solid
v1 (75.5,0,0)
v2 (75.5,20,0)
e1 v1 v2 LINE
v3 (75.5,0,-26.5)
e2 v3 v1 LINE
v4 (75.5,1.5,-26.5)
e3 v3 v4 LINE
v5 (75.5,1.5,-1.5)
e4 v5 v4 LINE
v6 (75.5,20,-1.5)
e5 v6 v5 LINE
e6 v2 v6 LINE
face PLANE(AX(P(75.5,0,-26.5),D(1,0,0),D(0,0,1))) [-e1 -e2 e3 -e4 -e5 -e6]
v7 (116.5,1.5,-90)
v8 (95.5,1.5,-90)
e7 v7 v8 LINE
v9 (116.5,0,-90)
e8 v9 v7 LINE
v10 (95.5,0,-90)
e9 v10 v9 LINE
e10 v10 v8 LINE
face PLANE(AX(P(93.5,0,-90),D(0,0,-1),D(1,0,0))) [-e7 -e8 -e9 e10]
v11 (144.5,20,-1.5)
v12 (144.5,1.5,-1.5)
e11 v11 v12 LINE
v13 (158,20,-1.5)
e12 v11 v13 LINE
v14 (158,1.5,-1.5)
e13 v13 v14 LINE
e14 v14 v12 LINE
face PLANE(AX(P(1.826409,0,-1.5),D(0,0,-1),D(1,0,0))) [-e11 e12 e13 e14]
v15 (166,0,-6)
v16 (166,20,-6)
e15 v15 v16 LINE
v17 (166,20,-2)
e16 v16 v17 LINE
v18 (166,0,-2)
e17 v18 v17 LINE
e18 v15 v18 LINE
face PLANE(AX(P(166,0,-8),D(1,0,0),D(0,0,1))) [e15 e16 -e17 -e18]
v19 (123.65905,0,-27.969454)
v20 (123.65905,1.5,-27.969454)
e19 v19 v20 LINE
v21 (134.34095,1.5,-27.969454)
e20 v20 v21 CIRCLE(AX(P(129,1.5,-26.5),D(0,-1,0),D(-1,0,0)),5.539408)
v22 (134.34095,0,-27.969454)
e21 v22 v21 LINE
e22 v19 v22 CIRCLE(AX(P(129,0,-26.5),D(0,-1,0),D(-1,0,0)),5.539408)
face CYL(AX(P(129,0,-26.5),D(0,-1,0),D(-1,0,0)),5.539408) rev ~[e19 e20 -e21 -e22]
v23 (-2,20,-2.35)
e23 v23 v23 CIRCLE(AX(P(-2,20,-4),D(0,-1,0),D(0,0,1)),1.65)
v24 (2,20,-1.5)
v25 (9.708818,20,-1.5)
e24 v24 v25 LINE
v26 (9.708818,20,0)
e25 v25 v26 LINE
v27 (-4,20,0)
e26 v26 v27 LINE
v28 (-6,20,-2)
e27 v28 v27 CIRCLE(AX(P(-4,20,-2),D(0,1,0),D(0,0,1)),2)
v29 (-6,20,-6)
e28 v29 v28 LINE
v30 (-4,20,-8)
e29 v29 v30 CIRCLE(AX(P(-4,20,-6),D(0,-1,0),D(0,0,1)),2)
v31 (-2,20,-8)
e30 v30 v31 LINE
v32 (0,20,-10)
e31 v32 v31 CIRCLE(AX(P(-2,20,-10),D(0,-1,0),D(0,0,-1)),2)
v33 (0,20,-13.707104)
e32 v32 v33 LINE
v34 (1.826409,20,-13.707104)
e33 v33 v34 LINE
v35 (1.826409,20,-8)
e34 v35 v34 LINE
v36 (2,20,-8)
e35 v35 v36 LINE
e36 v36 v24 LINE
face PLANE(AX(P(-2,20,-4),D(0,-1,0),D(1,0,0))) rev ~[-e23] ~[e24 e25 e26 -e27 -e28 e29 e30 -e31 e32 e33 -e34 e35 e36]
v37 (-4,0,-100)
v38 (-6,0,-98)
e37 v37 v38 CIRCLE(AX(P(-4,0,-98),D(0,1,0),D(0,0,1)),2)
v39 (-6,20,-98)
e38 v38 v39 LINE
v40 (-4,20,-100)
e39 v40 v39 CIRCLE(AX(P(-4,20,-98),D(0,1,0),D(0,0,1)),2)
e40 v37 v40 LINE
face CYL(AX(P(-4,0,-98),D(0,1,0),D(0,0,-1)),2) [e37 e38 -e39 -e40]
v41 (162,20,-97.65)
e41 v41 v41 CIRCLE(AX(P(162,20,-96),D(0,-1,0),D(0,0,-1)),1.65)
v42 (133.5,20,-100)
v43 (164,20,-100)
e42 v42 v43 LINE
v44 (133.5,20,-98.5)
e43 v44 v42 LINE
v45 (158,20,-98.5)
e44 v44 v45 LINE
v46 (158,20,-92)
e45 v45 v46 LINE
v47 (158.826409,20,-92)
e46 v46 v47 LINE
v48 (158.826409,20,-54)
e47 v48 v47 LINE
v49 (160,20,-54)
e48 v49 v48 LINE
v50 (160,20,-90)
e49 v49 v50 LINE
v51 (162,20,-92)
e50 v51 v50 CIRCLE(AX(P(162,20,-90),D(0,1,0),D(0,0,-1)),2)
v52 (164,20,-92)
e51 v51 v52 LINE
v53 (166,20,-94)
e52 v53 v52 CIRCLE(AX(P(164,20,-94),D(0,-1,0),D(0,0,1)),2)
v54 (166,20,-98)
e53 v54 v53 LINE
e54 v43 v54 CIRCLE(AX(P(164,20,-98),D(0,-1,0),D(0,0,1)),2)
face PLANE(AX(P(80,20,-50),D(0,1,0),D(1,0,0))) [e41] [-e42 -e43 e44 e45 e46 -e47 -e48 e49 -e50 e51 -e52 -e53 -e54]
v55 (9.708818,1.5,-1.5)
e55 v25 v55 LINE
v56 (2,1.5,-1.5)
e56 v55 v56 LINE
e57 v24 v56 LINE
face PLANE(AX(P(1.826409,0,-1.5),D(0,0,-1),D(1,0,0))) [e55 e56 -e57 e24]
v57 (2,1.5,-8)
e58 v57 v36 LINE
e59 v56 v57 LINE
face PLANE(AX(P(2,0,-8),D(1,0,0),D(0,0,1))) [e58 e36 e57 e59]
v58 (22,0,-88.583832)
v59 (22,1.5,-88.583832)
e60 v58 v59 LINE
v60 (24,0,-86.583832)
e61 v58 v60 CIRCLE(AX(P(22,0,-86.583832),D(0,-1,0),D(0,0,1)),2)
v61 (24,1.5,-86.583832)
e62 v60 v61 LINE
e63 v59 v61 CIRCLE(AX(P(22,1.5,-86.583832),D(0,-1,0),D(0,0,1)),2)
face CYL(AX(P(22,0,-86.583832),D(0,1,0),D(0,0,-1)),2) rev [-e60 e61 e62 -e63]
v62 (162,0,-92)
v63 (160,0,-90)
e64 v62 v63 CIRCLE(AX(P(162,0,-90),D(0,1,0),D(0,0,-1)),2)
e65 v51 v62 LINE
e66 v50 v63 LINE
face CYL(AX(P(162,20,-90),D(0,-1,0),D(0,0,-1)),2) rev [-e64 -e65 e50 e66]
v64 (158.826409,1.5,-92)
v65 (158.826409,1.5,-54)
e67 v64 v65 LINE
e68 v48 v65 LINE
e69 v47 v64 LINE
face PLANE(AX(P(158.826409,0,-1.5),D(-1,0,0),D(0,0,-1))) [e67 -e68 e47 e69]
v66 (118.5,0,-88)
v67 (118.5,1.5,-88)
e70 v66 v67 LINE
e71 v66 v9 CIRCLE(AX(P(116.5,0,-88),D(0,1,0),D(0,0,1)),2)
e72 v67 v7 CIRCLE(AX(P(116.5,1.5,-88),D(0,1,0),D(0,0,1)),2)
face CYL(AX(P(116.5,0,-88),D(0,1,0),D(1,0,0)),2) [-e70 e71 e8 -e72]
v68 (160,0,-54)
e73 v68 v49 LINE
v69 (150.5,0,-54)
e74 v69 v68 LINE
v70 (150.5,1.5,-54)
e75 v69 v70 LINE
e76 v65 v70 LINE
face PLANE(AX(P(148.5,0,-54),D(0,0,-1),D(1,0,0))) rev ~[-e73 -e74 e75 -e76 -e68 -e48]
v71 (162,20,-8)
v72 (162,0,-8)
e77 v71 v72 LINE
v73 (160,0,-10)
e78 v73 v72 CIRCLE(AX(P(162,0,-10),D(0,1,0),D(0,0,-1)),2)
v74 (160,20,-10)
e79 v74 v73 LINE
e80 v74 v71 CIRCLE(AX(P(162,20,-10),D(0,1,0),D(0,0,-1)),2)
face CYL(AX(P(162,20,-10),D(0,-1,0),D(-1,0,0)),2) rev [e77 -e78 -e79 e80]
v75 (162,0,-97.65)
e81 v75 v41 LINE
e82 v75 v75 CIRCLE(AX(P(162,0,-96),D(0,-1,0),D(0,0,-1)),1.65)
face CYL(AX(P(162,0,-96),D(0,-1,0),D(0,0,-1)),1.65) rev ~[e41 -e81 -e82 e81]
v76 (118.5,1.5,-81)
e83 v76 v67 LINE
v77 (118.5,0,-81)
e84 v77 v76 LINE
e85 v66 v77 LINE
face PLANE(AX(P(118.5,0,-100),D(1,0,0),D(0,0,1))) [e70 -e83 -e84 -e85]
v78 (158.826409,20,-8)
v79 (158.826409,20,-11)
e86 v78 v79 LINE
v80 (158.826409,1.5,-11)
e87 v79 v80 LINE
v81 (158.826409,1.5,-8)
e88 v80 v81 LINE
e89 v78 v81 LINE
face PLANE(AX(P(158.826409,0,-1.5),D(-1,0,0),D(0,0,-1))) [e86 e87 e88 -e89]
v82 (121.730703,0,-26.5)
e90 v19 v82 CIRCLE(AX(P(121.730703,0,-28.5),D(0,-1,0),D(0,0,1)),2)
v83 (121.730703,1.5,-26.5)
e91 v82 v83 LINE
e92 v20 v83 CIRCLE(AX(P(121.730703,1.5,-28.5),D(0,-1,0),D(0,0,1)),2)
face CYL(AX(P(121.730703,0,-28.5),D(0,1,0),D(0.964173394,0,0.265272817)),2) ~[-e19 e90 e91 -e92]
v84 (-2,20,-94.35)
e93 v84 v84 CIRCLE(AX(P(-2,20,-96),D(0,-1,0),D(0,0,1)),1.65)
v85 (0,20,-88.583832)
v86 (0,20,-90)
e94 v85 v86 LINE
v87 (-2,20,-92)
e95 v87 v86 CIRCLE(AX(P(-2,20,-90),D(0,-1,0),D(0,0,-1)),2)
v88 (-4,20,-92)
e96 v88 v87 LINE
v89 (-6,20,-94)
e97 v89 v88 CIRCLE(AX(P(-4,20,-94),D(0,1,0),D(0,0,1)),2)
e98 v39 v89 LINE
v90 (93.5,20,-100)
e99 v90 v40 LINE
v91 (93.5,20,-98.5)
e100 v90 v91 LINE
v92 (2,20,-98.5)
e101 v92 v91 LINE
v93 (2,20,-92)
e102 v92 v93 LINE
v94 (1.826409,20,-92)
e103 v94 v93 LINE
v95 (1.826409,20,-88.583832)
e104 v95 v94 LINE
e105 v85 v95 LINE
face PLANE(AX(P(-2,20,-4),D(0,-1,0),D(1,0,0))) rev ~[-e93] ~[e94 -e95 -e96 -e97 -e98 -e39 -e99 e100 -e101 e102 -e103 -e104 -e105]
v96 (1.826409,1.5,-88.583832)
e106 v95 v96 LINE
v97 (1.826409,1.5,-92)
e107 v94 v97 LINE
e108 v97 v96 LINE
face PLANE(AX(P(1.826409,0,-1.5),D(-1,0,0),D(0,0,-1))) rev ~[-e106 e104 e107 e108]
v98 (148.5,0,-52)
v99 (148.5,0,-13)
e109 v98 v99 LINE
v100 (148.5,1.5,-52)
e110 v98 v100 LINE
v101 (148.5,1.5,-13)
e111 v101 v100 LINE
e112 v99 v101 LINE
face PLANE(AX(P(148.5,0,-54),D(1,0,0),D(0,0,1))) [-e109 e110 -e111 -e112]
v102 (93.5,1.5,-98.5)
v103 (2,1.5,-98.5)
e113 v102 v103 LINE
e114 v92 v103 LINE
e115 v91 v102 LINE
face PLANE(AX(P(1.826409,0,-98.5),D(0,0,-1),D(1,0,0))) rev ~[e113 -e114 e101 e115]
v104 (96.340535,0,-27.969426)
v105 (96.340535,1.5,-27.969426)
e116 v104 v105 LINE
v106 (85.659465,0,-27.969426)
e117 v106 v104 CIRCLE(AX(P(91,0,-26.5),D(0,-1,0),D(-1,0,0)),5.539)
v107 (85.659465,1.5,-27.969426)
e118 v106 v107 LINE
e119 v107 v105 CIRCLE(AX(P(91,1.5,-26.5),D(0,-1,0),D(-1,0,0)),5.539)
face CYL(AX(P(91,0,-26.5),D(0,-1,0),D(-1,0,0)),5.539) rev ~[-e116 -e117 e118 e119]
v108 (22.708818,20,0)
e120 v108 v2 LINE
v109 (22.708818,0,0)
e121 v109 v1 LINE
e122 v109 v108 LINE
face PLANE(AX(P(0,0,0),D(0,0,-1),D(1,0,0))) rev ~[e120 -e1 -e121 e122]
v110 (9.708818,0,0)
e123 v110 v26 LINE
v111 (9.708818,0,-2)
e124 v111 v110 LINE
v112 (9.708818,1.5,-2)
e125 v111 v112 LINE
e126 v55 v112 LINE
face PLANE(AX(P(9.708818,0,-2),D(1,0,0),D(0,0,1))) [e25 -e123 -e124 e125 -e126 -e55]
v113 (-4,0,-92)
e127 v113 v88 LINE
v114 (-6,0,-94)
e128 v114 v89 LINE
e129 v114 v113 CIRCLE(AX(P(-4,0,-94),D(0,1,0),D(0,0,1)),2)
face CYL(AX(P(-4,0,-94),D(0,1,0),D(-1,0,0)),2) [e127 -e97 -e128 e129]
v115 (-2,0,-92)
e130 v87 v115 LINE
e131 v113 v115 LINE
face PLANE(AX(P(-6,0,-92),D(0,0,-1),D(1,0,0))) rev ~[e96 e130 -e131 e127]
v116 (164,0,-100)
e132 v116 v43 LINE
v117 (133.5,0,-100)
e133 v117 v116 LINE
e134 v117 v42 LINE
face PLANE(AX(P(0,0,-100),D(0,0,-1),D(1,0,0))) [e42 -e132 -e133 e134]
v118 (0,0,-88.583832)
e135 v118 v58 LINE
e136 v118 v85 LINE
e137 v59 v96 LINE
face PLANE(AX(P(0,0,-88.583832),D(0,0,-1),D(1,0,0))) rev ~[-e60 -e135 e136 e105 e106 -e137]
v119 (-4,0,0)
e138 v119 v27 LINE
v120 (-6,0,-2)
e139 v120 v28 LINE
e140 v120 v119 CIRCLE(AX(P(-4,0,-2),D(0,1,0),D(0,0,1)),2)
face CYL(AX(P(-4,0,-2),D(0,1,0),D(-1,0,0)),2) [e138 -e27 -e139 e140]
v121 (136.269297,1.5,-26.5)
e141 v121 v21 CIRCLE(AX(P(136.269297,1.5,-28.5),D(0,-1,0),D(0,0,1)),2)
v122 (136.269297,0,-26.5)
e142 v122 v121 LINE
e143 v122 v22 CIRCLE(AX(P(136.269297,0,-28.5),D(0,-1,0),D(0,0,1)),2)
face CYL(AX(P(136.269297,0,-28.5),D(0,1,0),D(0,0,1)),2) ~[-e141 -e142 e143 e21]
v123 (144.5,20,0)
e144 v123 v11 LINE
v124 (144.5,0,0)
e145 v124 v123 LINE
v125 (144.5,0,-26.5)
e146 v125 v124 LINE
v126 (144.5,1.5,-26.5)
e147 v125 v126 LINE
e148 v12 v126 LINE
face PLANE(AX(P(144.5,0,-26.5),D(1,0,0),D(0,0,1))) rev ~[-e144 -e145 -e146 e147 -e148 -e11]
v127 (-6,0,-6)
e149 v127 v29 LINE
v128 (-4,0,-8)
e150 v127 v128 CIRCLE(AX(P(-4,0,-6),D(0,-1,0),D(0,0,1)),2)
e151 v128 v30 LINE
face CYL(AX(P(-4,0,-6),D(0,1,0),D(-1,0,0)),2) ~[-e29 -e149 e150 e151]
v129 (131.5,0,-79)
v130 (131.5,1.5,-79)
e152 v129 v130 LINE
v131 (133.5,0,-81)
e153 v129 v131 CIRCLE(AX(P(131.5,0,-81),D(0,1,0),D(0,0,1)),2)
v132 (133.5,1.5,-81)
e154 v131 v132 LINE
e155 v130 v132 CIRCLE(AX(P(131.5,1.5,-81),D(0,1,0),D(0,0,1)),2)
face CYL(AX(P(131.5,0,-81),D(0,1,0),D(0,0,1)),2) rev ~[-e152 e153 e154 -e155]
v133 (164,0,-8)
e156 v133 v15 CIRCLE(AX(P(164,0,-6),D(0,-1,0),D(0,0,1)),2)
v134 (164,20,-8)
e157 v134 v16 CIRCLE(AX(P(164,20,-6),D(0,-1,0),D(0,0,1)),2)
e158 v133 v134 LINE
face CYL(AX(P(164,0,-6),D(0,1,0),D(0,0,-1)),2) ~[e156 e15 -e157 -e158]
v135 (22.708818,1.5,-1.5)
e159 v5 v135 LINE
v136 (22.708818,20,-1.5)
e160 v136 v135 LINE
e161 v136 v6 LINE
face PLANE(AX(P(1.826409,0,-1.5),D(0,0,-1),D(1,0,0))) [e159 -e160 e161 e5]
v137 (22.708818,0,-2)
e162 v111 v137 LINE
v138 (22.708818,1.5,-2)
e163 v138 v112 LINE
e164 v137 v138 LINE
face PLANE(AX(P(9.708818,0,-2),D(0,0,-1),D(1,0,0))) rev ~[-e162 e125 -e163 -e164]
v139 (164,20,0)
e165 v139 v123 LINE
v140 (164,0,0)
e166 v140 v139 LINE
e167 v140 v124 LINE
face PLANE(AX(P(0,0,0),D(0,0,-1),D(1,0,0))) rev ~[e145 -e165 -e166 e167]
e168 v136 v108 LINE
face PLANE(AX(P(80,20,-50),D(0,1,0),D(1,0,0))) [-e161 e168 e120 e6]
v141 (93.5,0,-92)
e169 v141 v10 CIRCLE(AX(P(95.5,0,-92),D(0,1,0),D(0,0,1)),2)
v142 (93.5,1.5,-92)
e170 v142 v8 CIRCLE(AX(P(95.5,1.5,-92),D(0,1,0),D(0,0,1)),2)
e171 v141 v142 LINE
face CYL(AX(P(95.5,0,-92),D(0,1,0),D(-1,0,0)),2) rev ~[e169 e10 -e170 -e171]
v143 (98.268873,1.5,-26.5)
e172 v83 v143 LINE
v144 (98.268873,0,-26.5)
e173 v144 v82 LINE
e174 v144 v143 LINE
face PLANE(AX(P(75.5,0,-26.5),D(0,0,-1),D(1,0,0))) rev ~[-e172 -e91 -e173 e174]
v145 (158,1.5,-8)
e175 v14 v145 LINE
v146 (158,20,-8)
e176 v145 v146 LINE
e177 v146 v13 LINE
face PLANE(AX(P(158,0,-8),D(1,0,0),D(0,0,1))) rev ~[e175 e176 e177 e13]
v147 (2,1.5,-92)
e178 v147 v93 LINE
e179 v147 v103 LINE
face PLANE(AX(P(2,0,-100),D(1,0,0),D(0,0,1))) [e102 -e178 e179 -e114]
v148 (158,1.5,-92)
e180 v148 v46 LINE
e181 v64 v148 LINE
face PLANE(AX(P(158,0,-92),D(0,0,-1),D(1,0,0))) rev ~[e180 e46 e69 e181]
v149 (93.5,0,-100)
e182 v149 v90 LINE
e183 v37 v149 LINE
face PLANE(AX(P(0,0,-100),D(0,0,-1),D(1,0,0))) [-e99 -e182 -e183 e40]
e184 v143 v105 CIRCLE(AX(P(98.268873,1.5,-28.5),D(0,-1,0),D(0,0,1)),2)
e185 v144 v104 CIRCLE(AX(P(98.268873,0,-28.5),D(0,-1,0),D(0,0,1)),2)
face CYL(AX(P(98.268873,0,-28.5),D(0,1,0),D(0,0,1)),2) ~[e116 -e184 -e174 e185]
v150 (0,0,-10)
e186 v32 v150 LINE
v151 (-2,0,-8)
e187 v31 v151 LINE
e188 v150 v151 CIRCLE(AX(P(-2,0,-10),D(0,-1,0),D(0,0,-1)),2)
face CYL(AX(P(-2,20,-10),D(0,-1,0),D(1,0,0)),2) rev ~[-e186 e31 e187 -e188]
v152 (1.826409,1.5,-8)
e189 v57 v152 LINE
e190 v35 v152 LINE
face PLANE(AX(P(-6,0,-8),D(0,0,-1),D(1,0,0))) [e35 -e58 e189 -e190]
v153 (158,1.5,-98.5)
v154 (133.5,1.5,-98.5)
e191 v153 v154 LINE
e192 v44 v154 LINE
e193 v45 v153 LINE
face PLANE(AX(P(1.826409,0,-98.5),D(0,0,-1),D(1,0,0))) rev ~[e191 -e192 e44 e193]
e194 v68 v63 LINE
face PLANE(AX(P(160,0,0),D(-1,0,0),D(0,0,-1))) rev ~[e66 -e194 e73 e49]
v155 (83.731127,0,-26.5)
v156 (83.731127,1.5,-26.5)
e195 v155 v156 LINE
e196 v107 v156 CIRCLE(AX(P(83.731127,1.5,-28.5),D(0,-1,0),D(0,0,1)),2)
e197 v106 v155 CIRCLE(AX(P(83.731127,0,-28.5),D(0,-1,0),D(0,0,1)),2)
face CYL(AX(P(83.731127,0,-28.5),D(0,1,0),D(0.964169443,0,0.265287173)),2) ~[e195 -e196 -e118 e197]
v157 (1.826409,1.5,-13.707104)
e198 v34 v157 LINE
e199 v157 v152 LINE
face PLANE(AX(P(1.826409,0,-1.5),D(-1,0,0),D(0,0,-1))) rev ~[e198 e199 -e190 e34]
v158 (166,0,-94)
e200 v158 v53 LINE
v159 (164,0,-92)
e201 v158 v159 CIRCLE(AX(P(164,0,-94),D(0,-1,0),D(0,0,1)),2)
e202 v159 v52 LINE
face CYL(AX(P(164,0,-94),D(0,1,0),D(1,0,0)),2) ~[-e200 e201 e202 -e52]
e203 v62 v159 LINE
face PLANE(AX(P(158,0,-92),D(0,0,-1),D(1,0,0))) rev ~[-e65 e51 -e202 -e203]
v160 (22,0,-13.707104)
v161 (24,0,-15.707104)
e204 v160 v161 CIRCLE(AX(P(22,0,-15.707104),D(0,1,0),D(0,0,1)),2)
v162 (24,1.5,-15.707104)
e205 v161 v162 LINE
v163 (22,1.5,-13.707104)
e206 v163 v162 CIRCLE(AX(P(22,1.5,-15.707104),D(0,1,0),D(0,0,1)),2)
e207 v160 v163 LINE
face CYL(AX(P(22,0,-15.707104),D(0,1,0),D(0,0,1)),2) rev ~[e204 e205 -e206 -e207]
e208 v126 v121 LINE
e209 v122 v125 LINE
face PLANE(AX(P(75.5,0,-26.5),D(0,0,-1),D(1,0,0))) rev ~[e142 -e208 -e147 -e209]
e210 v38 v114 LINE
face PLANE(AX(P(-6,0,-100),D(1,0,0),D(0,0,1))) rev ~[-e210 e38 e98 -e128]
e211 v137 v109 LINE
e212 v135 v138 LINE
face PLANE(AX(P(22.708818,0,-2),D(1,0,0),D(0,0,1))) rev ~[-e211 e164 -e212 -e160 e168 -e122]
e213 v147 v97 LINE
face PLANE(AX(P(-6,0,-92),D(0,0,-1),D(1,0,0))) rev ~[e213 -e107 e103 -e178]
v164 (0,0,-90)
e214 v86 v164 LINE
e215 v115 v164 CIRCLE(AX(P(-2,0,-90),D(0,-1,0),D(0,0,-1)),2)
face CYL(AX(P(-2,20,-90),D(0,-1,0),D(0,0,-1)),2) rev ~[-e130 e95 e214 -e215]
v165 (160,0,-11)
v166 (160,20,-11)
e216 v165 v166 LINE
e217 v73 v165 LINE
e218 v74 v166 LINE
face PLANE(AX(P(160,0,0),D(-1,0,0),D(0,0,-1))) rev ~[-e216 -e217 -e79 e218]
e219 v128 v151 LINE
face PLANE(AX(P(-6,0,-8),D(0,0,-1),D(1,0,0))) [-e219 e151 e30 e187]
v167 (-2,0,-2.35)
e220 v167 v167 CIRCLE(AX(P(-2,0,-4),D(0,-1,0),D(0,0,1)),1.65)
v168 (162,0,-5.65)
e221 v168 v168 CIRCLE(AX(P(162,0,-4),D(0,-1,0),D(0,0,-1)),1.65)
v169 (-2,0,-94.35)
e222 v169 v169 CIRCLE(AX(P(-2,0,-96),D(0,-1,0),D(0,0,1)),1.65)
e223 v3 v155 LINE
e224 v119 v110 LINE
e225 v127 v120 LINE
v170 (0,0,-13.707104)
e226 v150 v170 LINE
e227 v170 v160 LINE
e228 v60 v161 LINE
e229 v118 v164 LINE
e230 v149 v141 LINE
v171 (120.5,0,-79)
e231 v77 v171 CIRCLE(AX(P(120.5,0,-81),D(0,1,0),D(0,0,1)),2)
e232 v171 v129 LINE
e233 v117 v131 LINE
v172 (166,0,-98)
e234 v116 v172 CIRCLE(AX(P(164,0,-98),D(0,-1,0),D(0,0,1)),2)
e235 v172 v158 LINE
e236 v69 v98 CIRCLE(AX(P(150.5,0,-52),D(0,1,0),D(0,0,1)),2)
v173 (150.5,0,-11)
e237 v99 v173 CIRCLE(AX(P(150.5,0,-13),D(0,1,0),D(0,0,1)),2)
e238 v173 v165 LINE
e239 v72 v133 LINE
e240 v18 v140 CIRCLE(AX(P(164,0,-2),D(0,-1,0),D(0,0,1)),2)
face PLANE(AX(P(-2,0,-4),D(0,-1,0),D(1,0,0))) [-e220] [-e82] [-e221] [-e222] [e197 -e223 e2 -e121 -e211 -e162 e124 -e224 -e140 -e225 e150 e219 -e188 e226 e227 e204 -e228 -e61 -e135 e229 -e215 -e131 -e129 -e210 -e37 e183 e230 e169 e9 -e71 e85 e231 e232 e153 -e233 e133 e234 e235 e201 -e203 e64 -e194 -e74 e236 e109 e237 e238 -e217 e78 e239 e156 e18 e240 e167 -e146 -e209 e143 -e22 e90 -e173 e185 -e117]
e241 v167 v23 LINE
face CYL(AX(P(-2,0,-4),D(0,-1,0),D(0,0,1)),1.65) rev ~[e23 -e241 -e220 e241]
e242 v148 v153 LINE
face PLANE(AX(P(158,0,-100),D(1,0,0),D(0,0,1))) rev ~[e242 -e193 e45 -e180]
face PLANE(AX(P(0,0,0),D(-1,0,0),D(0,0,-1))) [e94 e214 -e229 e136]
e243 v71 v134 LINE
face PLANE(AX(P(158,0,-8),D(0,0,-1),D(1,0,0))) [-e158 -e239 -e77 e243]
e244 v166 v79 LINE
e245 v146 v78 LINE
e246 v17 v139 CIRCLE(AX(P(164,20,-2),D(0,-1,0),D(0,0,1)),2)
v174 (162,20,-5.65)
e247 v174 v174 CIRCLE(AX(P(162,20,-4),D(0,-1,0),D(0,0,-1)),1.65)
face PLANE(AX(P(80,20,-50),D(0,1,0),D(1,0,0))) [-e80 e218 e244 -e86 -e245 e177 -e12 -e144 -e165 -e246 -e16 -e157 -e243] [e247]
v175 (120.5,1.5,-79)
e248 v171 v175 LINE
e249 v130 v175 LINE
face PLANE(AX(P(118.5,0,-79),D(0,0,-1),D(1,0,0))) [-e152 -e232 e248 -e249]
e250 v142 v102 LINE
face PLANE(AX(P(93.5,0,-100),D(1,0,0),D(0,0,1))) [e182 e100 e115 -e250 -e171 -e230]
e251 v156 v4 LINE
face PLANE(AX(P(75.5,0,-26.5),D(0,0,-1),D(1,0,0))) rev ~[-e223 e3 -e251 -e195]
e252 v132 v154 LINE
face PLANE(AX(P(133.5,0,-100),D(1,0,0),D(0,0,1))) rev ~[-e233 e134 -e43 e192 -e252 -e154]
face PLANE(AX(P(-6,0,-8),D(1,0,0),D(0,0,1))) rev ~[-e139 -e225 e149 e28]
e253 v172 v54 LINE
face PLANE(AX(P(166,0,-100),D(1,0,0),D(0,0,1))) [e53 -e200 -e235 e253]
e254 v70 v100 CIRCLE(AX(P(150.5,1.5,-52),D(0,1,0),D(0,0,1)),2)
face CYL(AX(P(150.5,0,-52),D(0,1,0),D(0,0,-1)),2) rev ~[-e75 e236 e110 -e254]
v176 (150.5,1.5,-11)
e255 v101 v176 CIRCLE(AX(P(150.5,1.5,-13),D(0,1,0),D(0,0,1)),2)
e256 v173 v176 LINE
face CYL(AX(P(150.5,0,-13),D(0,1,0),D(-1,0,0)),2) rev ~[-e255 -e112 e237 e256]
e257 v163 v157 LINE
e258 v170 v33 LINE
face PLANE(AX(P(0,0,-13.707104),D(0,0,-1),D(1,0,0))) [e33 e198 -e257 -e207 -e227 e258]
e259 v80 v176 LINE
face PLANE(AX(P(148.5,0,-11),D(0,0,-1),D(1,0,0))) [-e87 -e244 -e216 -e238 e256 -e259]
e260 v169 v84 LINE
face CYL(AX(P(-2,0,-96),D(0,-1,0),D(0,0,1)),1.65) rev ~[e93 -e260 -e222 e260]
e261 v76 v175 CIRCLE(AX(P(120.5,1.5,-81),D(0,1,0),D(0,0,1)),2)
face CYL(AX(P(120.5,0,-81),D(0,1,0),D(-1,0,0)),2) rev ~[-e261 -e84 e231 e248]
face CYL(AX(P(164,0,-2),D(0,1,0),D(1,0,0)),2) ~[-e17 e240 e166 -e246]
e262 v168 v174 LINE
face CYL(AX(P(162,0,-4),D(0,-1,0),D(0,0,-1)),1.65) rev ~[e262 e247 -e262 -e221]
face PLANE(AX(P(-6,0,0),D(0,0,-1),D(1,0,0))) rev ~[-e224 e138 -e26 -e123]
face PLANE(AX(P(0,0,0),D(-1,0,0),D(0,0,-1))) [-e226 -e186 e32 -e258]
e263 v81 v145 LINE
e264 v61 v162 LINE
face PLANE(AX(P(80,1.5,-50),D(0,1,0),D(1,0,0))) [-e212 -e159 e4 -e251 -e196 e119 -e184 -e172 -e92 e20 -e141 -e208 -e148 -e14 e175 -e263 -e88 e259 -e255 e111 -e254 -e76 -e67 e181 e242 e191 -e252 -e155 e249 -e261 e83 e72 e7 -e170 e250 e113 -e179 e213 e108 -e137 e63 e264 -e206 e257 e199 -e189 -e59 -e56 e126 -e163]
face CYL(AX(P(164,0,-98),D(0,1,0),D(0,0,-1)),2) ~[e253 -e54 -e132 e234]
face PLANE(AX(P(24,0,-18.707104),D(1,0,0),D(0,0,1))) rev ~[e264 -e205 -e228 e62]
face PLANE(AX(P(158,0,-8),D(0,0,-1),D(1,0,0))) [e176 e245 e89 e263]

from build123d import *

# Parameters (mm, degrees)
SKETCH1_W           = 160
SKETCH1_H           = 100
BOSS_EXTRUDE1_DEPTH = 1.5
SKETCH2_W           = 160
SKETCH2_H           = 100
SKETCH2_W_2         = 157
SKETCH2_H_2         = 97
BOSS_EXTRUDE2_DEPTH = 20
FILLET1_R           = 2
SKETCH4_W           = 15
SKETCH4_H           = 21
CUT_EXTRUDE1_DEPTH  = 190.73665961
SKETCH5_W           = 69
SKETCH5_H           = 26.5
CUT_EXTRUDE2_DEPTH  = 190.73665961
SKETCH6_W           = 11.5
SKETCH6_H           = 43
CUT_EXTRUDE3_DEPTH  = 190.73665961
CUT_EXTRUDE5_DEPTH  = 10
FILLET2_R           = 2
SKETCH10_W          = 13
SKETCH10_H          = 2
CUT_EXTRUDE6_DEPTH  = 20
FILLET4_R           = 2
SKETCH11_W          = 25
SKETCH11_H          = 10
CUT_EXTRUDE7_DEPTH  = 20
FILLET5_R           = 2
SKETCH12_W          = 8
SKETCH12_H          = 8
SKETCH12_R          = 1.65
BOSS_EXTRUDE3_DEPTH = 20
FILLET6_R           = 2
SKETCH14_W          = 24
SKETCH14_H          = 64.876727664
CUT_EXTRUDE8_DEPTH  = 22
SKETCH16_W          = 24
SKETCH16_H          = 5
CUT_EXTRUDE9_DEPTH  = 20
FILLET8_R           = 2
SKETCH18_W          = 24
SKETCH18_H          = 5
CUT_EXTRUDE10_DEPTH = 20
FILLET9_R           = 2


with BuildPart() as part:
    # Sketch1 → Boss-Extrude1 (new body)
    with BuildSketch(Plane(origin=(0, 0, 0), x_dir=(1, 0, 0), z_dir=(0, 1, 0))):
        with Locations((80, 50)):
            Rectangle(SKETCH1_W, SKETCH1_H)
    extrude(amount=BOSS_EXTRUDE1_DEPTH)

    # Sketch2 → Boss-Extrude2 (add)
    with BuildSketch(Plane(origin=(0, 0, 0), x_dir=(1, 0, 0), z_dir=(0, 1, 0))):
        with Locations((80, 50)):
            Rectangle(SKETCH2_W, SKETCH2_H)
        with Locations((80.326409395, 50)):
            Rectangle(SKETCH2_W_2, SKETCH2_H_2, mode=Mode.SUBTRACT)
    extrude(amount=BOSS_EXTRUDE2_DEPTH)

    # Fillet1
    fillet1_edges = [part.edges().sort_by_distance(p)[0] for p in [
        (0, 10, -100),
        (160, 10, -100),
        (160, 10, 0),
        (0, 10, 0),
    ]]
    fillet(fillet1_edges, radius=FILLET1_R)

    # Sketch4 → Cut-Extrude1 (cut, through all)
    with BuildSketch(Plane.XZ):
        with Locations((126, -89.5)):
            Rectangle(SKETCH4_W, SKETCH4_H)
    extrude(amount=-CUT_EXTRUDE1_DEPTH, mode=Mode.SUBTRACT)

    # Sketch5 → Cut-Extrude2 (cut, through all)
    with BuildSketch(Plane.XZ):
        with Locations((110, -13.25)):
            Rectangle(SKETCH5_W, SKETCH5_H)
    extrude(amount=-CUT_EXTRUDE2_DEPTH, mode=Mode.SUBTRACT)

    # Sketch6 → Cut-Extrude3 (cut, through all)
    with BuildSketch(Plane.XZ):
        with Locations((154.25, -32.5)):
            Rectangle(SKETCH6_W, SKETCH6_H)
    extrude(amount=-CUT_EXTRUDE3_DEPTH, mode=Mode.SUBTRACT)

    # Sketch9 → Cut-Extrude5 (cut)
    with BuildSketch(Plane.XZ):
        with BuildLine():
            Line((134.539408017, -26.5), (123.460591983, -26.5))
            ThreePointArc((123.460591983, -26.5), (129, -32.039408017), (134.539408017, -26.5))
        make_face()
        with BuildLine():
            Line((96.539, -26.5), (85.461, -26.5))
            ThreePointArc((85.461, -26.5), (91, -32.039), (96.539, -26.5))
        make_face()
    extrude(amount=-CUT_EXTRUDE5_DEPTH, mode=Mode.SUBTRACT)

    # Fillet2
    fillet2_edges = [part.edges().sort_by_distance(p)[0] for p in [
        (85.461, 0.75, -26.5),
        (96.539, 0.75, -26.5),
        (123.460591983, 0.75, -26.5),
        (134.539408017, 0.75, -26.5),
    ]]
    fillet(fillet2_edges, radius=FILLET2_R)

    # Sketch10 → Cut-Extrude6 (cut)
    with BuildSketch(Plane.XZ):
        with Locations((16.208817875, -1)):
            Rectangle(SKETCH10_W, SKETCH10_H)
    extrude(amount=-CUT_EXTRUDE6_DEPTH, mode=Mode.SUBTRACT)

    # Fillet4
    fillet4_edges = [part.edges().sort_by_distance(p)[0] for p in [
        (148.5, 0.75, -54),
        (148.5, 0.75, -11),
        (118.5, 0.75, -79),
        (133.5, 0.75, -79),
    ]]
    fillet(fillet4_edges, radius=FILLET4_R)

    # Sketch11 → Cut-Extrude7 (cut)
    with BuildSketch(Plane.XZ):
        with Locations((106, -95)):
            Rectangle(SKETCH11_W, SKETCH11_H)
    extrude(amount=-CUT_EXTRUDE7_DEPTH, mode=Mode.SUBTRACT)

    # Fillet5
    fillet5_edges = [part.edges().sort_by_distance(p)[0] for p in [
        (118.5, 0.75, -90),
        (93.5, 0.75, -90),
    ]]
    fillet(fillet5_edges, radius=FILLET5_R)

    # Sketch12 → Boss-Extrude3 (add)
    # profile 1 of 4: a face of its own
    with BuildSketch(Plane.XZ):
        with Locations((-2, -4)):
            Rectangle(SKETCH12_W, SKETCH12_H)
        with Locations(Location((-2, -4, 0), (0, 0, 90))):
            Circle(SKETCH12_R, mode=Mode.SUBTRACT)
    # profile 2 of 4: a face of its own
    with BuildSketch(Plane.XZ):
        with Locations((162, -96)):
            Rectangle(SKETCH12_W, SKETCH12_H)
        with Locations(Location((162, -96, 0), (0, 0, 270))):
            Circle(SKETCH12_R, mode=Mode.SUBTRACT)
    # profile 3 of 4: a face of its own
    with BuildSketch(Plane.XZ):
        with Locations((162, -4)):
            Rectangle(SKETCH12_W, SKETCH12_H)
        with Locations(Location((162, -4, 0), (0, 0, 270))):
            Circle(SKETCH12_R, mode=Mode.SUBTRACT)
    # profile 4 of 4: a face of its own
    with BuildSketch(Plane.XZ):
        with Locations((-2, -96)):
            Rectangle(SKETCH12_W, SKETCH12_H)
        with Locations(Location((-2, -96, 0), (0, 0, 90))):
            Circle(SKETCH12_R, mode=Mode.SUBTRACT)
    extrude(amount=-BOSS_EXTRUDE3_DEPTH)

    # Fillet6
    fillet6_edges = [part.edges().sort_by_distance(p)[0] for p in [
        (160, 10, -92),
        (166, 10, -92),
        (166, 10, -100),
        (166, 10, -8),
        (160, 10, -8),
        (166, 10, 0),
        (0, 10, -8),
        (-6, 10, -8),
        (-6, 10, 0),
        (-6, 10, -92),
        (0, 10, -92),
        (-6, 10, -100),
    ]]
    fillet(fillet6_edges, radius=FILLET6_R)

    # Sketch14 → Cut-Extrude8 (cut)
    with BuildSketch(Plane.XZ):
        with Locations((12, -51.145467828)):
            Rectangle(SKETCH14_W, SKETCH14_H)
    extrude(amount=-CUT_EXTRUDE8_DEPTH, mode=Mode.SUBTRACT)

    # Sketch16 → Cut-Extrude9 (cut)
    with BuildSketch(Plane.XZ):
        with Locations((12, -86.08383166)):
            Rectangle(SKETCH16_W, SKETCH16_H)
    extrude(amount=-CUT_EXTRUDE9_DEPTH, mode=Mode.SUBTRACT)

    # Fillet8
    fillet8_edges = [part.edges().sort_by_distance(p)[0] for p in [
        (24, 0.75, -88.58383166),
    ]]
    fillet(fillet8_edges, radius=FILLET8_R)

    # Sketch18 → Cut-Extrude10 (cut)
    with BuildSketch(Plane.XZ):
        with Locations((12, -16.207103996)):
            Rectangle(SKETCH18_W, SKETCH18_H)
    extrude(amount=-CUT_EXTRUDE10_DEPTH, mode=Mode.SUBTRACT)

    # Fillet9
    fillet9_edges = [part.edges().sort_by_distance(p)[0] for p in [
        (24, 0.75, -13.707103996),
    ]]
    fillet(fillet9_edges, radius=FILLET9_R)


solid = part.part
